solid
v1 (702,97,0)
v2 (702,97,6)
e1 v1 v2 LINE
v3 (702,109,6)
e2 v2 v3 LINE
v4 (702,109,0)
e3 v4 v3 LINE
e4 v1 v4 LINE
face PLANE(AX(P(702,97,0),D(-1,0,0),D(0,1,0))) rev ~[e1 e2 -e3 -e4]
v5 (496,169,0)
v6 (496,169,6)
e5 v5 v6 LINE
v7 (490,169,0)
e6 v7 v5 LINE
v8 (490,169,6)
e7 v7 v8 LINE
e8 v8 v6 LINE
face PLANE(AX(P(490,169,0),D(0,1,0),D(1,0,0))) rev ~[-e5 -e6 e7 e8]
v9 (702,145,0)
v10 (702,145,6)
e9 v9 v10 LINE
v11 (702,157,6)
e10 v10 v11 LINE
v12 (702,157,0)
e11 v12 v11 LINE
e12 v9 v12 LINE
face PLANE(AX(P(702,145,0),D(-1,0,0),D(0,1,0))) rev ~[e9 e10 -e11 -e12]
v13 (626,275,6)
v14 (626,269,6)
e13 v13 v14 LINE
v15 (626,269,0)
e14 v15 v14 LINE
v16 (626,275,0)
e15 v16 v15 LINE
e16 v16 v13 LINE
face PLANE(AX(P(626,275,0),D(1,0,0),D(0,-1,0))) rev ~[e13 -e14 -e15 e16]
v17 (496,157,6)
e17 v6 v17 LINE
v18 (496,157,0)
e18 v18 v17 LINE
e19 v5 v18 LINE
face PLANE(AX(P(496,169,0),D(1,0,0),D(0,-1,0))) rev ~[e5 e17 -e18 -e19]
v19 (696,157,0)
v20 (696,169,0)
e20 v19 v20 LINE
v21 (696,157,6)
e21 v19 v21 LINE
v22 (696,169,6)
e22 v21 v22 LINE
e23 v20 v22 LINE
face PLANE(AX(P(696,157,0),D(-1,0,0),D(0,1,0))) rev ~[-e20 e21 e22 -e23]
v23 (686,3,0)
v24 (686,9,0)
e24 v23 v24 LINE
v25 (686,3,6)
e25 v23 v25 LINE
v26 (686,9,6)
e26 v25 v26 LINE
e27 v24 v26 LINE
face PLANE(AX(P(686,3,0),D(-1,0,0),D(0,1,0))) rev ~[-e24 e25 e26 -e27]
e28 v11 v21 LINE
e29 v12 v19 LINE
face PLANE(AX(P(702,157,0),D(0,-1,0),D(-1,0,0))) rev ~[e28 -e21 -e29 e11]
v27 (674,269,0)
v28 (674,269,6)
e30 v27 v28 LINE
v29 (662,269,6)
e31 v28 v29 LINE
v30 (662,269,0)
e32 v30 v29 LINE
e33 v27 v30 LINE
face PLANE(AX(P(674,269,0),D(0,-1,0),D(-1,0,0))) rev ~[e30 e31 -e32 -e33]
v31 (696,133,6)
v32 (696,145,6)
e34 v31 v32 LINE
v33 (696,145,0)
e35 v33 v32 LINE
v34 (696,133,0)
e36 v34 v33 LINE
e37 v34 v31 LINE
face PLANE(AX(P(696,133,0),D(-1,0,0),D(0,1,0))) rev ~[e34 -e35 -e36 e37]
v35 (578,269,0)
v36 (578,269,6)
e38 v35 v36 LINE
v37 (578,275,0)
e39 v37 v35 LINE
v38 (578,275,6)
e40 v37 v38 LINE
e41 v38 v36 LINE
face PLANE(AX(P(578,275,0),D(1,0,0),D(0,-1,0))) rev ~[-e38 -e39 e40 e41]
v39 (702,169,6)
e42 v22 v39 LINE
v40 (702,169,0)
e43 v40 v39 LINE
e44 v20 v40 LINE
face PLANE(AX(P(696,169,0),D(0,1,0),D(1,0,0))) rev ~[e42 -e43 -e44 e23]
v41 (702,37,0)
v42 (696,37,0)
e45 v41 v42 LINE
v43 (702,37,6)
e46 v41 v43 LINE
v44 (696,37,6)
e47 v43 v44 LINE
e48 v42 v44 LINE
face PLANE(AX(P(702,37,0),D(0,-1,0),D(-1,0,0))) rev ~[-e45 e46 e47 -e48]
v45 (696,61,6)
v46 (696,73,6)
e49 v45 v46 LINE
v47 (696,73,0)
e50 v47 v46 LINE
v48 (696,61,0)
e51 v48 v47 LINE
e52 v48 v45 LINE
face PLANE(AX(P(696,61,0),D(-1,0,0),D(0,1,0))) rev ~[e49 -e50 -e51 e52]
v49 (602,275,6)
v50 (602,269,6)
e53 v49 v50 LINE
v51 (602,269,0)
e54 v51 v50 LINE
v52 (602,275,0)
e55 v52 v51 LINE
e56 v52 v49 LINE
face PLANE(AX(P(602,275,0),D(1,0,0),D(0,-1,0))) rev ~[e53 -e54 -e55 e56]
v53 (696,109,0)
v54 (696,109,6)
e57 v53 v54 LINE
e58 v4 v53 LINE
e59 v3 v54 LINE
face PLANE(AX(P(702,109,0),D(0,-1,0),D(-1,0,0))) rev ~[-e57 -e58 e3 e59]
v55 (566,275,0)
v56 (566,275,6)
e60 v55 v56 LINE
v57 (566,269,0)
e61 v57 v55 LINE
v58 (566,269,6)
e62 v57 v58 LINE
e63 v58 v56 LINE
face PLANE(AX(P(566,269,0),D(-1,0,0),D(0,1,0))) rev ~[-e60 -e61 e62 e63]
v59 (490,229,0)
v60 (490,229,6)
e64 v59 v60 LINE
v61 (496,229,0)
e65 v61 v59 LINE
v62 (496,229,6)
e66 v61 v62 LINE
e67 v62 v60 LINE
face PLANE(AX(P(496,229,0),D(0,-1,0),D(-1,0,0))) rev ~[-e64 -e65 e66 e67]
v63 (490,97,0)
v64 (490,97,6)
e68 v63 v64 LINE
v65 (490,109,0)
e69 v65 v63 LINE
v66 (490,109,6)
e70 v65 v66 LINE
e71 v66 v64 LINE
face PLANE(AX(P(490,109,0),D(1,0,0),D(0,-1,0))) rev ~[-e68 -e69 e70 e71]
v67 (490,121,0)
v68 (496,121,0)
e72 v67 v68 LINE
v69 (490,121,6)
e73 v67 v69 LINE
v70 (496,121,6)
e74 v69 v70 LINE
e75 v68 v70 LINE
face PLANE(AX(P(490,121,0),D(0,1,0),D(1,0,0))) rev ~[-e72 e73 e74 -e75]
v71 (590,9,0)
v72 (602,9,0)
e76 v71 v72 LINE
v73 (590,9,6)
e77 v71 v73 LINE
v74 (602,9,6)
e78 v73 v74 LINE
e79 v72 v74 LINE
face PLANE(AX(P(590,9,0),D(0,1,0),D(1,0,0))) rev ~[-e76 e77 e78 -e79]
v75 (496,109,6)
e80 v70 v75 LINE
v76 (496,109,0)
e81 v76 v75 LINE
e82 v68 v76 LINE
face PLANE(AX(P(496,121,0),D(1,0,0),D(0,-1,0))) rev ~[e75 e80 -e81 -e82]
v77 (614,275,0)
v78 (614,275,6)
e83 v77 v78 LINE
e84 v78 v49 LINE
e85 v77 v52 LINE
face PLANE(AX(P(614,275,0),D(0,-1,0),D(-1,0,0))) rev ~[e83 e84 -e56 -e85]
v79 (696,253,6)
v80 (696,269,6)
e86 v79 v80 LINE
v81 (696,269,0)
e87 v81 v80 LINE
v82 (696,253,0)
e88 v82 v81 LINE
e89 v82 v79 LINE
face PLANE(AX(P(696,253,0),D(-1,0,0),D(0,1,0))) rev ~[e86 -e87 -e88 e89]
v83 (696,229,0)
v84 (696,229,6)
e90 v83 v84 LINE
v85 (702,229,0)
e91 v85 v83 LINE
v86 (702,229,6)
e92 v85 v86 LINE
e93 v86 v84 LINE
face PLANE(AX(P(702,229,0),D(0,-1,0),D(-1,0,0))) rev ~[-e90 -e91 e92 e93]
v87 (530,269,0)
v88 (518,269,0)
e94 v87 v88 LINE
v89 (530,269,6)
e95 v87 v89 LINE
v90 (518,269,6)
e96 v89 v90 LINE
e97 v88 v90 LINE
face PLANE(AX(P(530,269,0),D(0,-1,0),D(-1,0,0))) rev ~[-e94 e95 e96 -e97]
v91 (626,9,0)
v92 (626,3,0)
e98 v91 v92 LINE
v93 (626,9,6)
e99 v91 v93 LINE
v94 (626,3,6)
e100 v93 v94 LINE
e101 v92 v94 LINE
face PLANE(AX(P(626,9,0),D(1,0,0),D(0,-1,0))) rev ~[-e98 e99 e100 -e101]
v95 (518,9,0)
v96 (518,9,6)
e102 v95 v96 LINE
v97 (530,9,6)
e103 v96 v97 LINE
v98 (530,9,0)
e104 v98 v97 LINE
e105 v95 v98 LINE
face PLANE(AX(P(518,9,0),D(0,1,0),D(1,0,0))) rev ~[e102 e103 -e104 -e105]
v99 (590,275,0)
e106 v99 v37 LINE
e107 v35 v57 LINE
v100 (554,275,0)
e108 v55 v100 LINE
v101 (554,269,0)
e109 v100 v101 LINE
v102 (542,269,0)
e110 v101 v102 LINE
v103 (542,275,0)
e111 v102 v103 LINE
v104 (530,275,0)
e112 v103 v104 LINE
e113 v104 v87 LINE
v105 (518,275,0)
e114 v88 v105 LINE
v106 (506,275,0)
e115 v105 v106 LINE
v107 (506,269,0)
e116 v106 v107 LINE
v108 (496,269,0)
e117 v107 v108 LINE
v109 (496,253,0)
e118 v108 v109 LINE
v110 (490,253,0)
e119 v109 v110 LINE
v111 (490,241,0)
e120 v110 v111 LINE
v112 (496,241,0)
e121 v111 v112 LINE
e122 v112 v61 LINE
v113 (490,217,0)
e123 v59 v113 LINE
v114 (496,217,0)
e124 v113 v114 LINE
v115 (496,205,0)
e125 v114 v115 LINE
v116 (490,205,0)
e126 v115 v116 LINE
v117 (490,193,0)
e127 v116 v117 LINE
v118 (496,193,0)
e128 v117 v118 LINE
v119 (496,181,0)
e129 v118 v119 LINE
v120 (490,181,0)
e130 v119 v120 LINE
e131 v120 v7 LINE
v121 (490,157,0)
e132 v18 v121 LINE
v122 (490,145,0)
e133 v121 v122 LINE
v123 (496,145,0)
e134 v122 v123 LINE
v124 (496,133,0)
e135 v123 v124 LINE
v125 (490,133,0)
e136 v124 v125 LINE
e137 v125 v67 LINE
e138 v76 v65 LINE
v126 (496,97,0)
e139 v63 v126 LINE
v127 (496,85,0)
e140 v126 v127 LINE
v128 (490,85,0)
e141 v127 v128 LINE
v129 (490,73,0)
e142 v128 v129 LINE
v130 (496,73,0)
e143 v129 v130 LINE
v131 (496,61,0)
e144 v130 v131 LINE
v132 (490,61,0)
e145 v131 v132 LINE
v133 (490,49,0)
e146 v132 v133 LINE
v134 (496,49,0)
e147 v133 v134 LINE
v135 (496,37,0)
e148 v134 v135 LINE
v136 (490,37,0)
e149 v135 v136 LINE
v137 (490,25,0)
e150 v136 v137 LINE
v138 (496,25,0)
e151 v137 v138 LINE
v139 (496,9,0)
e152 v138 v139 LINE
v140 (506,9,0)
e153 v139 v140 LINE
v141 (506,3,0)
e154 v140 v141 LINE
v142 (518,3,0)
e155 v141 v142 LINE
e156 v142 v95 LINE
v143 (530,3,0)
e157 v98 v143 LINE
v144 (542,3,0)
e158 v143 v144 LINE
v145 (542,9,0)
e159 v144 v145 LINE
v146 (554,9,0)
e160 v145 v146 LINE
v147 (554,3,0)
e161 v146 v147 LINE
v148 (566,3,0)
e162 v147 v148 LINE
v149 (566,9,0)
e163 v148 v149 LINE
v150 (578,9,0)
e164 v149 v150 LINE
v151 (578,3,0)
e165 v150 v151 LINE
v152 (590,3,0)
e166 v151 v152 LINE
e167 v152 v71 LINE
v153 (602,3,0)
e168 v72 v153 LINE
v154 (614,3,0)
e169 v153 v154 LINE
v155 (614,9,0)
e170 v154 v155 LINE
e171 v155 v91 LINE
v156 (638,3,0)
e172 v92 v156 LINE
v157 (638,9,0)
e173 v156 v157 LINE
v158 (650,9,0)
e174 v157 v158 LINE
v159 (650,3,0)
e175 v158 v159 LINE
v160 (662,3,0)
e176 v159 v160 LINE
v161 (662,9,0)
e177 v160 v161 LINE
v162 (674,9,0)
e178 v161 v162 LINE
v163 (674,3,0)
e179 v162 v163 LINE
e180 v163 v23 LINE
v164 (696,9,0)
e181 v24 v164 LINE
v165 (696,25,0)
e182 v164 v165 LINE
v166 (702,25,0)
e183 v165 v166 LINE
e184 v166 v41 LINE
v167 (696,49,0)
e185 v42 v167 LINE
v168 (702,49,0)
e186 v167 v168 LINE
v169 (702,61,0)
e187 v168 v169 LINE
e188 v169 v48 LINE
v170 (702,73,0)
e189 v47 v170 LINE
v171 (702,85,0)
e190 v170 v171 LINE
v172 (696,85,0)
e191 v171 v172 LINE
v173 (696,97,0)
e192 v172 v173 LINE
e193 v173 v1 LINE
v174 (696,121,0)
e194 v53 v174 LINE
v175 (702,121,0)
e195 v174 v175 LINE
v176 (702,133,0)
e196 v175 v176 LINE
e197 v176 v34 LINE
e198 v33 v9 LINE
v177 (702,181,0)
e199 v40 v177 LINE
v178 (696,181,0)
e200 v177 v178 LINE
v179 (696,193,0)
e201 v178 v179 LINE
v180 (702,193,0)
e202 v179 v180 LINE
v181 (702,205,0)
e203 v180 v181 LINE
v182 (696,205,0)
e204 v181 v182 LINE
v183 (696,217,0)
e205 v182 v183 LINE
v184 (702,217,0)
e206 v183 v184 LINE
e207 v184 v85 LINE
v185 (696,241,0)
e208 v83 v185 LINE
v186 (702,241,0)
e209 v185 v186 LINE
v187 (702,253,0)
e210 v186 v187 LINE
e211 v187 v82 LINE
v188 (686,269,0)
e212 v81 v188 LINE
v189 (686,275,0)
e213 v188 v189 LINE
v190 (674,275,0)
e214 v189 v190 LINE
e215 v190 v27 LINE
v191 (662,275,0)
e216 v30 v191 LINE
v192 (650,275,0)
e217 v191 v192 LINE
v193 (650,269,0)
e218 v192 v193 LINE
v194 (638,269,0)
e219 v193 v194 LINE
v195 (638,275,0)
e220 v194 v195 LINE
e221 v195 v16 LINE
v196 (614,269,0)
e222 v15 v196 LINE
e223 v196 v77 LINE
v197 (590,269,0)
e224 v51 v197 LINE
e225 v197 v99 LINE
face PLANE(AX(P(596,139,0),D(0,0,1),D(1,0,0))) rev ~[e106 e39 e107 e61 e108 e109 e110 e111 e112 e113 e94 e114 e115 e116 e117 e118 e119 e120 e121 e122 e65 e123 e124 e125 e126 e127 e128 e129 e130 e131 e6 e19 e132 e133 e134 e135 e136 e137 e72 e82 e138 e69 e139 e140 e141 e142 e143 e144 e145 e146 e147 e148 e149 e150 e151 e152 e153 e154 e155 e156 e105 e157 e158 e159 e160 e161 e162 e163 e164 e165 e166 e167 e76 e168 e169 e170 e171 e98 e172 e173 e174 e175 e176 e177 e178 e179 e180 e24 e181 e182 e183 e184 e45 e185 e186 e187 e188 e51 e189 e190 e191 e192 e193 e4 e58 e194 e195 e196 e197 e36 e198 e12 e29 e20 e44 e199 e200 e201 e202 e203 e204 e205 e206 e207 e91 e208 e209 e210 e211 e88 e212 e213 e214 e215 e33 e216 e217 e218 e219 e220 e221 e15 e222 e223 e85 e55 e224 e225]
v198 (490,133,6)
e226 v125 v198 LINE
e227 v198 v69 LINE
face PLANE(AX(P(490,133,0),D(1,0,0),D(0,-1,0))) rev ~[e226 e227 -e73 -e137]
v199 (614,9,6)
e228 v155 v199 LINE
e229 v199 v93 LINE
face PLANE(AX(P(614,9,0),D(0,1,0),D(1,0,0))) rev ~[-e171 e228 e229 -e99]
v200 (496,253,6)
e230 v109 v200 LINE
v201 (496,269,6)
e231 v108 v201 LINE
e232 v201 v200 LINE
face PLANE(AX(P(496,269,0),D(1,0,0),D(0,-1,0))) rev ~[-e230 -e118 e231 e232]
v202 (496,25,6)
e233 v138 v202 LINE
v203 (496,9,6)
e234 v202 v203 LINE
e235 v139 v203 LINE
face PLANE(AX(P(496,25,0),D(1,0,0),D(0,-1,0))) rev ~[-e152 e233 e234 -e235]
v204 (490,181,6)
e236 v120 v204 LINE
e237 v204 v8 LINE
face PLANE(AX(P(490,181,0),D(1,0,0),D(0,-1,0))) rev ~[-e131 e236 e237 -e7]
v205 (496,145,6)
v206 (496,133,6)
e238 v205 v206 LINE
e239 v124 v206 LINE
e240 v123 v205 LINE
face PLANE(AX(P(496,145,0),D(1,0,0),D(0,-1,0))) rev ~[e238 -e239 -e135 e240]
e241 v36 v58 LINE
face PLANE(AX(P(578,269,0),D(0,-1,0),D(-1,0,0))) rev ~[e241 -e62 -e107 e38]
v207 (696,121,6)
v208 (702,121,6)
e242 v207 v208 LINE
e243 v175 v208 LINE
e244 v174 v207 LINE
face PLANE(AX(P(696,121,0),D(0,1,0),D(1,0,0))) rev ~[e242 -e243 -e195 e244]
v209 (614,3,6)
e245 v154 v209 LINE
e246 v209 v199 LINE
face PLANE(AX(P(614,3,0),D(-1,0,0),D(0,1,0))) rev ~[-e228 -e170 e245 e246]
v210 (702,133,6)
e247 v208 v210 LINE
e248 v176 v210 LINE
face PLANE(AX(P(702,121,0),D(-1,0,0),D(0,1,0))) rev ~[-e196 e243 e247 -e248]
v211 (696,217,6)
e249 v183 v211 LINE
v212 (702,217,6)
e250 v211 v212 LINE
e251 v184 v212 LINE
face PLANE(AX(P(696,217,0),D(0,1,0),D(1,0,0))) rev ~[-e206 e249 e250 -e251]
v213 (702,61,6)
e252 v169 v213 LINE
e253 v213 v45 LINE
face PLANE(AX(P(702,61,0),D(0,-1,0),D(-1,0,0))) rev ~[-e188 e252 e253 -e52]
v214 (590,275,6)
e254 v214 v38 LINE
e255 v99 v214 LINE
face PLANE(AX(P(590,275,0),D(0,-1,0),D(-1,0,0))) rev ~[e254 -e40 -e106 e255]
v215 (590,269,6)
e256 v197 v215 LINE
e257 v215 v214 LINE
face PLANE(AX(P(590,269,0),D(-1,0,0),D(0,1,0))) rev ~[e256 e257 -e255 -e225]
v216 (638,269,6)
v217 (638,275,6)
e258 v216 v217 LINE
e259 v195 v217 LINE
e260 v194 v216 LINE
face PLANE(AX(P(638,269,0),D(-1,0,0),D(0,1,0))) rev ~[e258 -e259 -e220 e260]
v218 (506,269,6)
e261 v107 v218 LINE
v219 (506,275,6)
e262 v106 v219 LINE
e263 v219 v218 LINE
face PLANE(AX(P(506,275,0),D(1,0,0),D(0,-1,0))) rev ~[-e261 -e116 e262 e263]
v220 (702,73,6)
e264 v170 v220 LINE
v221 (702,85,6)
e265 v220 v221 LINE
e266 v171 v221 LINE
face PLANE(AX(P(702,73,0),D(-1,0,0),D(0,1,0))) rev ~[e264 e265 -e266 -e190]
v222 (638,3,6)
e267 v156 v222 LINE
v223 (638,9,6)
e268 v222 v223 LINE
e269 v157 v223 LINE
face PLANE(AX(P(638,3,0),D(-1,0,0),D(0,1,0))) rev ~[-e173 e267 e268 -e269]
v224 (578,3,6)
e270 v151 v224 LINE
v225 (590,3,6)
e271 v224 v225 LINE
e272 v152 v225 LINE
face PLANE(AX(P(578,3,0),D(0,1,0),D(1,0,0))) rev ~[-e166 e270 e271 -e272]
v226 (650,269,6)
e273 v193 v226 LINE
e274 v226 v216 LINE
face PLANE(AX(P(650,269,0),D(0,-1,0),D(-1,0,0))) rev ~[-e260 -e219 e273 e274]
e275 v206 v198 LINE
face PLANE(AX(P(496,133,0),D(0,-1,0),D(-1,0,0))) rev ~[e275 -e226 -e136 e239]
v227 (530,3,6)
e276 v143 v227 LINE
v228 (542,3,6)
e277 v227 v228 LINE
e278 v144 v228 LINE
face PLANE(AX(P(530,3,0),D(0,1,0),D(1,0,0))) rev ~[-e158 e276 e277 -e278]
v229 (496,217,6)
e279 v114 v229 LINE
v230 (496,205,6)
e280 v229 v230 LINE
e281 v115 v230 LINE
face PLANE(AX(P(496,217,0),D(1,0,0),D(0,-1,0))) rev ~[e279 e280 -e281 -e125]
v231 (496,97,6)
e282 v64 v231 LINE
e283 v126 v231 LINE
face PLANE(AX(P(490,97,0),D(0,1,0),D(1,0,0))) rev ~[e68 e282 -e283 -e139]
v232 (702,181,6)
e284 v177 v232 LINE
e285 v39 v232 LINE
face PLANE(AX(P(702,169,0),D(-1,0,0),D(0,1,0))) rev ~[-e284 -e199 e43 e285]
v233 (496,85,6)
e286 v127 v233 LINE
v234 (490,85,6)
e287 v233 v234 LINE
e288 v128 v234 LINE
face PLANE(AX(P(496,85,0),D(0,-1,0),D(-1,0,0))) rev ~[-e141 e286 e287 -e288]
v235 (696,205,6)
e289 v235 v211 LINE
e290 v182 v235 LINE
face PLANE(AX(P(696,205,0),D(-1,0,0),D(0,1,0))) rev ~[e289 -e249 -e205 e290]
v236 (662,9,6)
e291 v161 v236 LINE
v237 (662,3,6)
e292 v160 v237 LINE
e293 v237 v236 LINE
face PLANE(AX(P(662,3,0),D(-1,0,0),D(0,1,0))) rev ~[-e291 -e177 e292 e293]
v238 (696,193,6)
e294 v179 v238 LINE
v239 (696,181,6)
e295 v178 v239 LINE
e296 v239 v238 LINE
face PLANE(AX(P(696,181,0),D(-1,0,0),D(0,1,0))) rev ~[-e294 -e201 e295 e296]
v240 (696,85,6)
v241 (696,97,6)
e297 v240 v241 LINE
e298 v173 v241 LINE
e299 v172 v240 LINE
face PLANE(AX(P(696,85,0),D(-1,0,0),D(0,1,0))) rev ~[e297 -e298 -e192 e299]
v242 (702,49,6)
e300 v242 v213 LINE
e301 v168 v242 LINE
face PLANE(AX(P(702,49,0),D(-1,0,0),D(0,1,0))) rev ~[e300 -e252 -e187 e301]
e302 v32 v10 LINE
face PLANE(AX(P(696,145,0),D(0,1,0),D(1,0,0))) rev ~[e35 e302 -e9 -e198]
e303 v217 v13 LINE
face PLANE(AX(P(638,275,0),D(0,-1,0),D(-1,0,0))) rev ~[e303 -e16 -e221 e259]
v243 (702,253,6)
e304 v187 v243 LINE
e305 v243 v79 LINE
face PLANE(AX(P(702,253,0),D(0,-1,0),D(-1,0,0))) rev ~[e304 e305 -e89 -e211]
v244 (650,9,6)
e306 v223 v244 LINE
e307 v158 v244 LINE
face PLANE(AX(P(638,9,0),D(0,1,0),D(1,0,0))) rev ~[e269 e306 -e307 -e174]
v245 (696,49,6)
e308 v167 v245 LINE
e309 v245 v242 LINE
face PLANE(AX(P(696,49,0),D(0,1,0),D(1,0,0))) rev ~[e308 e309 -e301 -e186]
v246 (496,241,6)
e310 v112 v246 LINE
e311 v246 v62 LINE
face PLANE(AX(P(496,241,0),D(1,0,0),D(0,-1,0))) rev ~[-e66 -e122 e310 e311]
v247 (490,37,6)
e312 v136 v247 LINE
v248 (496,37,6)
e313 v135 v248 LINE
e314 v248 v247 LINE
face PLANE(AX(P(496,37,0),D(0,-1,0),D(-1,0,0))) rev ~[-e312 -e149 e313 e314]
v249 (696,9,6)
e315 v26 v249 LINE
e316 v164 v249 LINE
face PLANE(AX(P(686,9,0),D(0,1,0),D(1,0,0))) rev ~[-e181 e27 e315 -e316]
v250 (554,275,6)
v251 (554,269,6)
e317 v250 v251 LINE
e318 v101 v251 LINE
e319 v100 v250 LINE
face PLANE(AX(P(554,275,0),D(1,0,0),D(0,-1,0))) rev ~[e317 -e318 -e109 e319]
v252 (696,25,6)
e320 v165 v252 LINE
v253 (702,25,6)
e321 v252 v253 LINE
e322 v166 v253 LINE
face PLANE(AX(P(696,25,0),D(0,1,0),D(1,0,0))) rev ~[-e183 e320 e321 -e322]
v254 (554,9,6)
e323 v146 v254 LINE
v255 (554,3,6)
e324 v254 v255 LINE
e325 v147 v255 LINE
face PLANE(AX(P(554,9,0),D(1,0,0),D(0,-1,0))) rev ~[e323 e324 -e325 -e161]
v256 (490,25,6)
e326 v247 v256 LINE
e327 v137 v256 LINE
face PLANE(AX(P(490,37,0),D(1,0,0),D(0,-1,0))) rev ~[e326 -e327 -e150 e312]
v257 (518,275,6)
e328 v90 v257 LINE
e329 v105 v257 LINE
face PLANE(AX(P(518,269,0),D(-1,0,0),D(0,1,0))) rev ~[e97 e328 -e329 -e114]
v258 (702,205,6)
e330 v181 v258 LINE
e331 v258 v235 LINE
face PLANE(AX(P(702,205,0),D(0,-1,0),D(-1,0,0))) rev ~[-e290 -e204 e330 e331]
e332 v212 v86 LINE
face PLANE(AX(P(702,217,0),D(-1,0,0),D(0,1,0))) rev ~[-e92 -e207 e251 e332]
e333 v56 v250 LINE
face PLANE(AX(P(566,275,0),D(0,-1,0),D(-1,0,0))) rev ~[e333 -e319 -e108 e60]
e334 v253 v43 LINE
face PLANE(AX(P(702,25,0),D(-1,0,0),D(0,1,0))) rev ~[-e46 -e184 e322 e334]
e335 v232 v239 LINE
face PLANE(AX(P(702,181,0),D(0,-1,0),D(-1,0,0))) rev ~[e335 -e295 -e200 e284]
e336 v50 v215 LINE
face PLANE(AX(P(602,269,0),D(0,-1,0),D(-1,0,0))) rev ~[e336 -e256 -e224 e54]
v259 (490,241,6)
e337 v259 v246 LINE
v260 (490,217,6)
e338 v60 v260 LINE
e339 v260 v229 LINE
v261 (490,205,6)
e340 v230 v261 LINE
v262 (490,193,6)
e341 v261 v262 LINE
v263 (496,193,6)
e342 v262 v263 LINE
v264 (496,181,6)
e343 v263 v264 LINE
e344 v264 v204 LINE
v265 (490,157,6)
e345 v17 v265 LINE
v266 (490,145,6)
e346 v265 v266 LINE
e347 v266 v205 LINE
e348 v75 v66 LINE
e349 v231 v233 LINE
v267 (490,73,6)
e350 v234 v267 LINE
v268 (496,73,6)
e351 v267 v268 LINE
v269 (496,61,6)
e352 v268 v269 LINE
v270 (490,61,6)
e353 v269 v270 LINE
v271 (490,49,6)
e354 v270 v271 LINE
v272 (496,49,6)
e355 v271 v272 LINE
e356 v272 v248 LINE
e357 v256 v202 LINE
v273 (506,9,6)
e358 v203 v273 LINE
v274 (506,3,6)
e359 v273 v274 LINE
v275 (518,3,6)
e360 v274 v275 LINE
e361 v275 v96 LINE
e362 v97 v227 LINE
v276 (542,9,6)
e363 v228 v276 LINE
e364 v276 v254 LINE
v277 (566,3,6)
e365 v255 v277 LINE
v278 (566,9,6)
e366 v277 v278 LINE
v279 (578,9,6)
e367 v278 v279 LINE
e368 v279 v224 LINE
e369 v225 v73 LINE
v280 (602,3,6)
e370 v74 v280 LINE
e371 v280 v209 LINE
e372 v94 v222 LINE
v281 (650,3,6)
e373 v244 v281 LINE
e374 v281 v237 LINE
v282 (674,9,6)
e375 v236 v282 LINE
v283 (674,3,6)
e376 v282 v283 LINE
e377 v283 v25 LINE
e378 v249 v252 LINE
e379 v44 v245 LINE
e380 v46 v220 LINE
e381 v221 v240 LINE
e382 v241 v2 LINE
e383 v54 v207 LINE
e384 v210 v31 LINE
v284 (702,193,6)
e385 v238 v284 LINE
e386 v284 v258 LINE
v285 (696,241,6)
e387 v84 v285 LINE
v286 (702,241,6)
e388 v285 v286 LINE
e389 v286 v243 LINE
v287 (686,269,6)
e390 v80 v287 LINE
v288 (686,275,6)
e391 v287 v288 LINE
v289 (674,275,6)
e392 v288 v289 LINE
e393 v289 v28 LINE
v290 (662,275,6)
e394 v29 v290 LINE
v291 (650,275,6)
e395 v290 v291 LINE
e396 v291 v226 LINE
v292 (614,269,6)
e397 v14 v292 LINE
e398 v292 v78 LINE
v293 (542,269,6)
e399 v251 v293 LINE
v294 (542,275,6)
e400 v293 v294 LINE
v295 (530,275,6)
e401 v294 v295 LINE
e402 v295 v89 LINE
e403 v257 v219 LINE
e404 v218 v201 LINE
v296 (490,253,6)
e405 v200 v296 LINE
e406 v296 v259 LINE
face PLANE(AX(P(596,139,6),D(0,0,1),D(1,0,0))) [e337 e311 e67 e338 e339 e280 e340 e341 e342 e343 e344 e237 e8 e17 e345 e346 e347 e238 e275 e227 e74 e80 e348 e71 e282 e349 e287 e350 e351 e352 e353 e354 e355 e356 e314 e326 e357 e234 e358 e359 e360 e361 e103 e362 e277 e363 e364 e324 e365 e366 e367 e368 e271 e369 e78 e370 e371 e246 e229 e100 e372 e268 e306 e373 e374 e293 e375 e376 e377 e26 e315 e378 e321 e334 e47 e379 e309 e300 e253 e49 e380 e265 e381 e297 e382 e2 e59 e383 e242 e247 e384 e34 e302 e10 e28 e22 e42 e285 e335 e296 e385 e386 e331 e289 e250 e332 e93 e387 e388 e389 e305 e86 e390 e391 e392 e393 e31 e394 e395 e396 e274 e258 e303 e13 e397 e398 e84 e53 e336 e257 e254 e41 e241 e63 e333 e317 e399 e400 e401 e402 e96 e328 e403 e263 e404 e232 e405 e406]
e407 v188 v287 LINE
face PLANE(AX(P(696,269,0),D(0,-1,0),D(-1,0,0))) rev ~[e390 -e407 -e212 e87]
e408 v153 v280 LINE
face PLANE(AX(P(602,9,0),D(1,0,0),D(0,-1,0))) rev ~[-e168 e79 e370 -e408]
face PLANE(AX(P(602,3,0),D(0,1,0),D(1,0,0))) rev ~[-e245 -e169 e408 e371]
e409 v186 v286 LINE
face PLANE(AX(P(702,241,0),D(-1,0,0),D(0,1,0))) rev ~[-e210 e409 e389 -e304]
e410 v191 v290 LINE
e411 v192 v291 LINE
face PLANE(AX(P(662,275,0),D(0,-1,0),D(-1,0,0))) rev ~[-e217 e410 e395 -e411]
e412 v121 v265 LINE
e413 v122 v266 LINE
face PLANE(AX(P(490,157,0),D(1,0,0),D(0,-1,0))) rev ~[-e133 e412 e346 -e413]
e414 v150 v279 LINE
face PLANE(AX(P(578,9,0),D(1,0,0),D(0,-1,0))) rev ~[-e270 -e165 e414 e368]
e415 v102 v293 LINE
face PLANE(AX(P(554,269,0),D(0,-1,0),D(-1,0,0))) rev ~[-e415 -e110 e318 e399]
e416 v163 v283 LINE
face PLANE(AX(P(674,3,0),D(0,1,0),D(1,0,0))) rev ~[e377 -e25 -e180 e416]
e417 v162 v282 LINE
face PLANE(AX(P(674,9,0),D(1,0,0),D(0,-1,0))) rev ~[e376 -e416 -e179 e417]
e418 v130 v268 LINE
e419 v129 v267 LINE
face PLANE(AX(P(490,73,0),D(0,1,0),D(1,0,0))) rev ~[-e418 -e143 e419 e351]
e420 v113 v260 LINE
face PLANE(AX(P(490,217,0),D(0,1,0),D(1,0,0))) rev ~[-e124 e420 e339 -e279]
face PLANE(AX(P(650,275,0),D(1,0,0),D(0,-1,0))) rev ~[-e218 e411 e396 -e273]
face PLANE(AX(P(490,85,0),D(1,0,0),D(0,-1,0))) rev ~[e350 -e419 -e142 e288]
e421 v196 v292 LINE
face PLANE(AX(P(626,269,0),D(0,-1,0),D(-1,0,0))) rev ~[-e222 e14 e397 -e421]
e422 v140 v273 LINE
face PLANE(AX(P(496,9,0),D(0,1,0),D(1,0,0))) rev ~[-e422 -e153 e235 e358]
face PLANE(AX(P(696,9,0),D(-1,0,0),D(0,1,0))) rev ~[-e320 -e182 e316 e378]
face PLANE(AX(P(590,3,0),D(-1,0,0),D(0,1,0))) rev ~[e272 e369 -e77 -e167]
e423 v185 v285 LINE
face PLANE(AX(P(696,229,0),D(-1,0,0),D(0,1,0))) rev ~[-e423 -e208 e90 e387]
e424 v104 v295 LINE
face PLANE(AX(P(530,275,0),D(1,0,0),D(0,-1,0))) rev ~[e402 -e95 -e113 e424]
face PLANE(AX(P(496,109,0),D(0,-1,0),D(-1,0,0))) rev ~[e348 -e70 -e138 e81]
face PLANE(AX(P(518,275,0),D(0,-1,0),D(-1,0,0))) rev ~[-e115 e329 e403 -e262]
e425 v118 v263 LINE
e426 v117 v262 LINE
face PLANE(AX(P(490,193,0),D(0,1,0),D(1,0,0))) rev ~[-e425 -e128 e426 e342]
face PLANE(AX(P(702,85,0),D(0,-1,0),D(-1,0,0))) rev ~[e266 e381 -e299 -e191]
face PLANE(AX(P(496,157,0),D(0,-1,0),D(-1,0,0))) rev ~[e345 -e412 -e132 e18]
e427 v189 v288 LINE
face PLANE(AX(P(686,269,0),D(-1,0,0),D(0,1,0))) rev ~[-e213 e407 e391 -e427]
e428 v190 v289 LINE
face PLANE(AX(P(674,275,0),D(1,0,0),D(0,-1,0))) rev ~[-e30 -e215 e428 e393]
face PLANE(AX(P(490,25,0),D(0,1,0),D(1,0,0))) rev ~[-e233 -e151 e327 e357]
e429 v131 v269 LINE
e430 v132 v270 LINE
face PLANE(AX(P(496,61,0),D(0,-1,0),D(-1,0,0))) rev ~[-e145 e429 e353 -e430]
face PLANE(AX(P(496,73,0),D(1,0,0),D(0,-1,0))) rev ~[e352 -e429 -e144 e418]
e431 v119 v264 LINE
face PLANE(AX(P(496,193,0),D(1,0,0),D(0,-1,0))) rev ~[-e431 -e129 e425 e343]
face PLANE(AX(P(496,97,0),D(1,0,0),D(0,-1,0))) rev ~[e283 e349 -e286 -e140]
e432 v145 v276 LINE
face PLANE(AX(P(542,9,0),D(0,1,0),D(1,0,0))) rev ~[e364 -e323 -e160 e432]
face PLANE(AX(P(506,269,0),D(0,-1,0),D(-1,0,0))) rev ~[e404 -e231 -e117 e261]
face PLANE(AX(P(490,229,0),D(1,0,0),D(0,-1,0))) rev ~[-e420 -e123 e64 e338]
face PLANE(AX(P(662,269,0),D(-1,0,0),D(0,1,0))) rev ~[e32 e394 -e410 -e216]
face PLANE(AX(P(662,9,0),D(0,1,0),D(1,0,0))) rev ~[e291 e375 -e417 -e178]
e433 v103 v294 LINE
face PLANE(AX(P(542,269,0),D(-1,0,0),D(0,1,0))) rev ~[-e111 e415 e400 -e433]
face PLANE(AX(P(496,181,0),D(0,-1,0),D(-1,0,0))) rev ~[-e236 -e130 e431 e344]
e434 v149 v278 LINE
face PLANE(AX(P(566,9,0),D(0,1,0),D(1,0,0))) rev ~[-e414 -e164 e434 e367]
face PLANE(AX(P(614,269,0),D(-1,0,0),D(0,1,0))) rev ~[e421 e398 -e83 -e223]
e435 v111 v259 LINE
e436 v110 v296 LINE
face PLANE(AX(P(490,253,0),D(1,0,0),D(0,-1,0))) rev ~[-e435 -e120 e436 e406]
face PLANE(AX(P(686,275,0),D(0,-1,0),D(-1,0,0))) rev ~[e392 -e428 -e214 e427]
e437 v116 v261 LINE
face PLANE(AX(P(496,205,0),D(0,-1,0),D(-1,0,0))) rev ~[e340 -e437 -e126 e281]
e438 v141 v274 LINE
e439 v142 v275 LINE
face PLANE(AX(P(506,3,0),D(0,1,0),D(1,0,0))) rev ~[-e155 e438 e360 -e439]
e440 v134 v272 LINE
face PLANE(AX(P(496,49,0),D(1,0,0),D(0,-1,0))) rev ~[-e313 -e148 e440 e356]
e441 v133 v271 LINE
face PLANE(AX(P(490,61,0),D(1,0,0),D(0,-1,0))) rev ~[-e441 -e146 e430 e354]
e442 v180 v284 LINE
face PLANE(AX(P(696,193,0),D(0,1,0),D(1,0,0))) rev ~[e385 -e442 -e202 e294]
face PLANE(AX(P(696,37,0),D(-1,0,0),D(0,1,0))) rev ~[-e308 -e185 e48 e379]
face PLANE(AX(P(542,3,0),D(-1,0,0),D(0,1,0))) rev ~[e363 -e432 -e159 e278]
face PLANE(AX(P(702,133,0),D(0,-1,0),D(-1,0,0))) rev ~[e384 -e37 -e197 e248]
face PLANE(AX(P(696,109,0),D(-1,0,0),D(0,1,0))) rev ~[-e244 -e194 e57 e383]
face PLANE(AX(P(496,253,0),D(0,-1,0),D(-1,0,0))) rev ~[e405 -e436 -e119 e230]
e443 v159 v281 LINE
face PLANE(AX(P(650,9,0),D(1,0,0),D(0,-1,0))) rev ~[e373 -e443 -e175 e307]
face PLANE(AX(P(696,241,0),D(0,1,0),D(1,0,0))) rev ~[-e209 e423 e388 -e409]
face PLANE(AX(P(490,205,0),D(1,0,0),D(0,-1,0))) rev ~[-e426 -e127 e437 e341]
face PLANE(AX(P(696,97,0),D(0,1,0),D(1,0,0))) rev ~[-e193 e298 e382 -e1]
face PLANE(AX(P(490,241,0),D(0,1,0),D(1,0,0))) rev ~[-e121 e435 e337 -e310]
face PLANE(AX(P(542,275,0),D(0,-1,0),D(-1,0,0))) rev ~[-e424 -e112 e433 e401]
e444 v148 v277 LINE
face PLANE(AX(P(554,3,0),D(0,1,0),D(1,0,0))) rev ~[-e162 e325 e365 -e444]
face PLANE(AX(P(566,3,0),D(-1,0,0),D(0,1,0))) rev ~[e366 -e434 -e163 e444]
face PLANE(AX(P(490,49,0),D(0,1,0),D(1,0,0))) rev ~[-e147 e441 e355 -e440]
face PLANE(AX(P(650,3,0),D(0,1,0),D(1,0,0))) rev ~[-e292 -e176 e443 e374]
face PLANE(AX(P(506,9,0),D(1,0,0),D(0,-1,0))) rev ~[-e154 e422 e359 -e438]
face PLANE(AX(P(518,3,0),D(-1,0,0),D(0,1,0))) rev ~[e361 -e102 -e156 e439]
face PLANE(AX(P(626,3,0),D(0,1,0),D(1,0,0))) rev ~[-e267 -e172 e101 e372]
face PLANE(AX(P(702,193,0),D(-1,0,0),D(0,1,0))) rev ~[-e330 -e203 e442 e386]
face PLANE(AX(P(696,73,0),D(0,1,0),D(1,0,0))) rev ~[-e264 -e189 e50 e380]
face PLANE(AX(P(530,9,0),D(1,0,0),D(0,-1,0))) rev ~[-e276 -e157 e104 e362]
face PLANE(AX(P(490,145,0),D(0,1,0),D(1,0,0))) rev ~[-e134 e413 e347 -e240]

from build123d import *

# Parameters (mm, degrees)
BOSS_EXTRUDE1_DEPTH = 6


with BuildPart() as part:
    # Model → Boss-Extrude1 (new body)
    with BuildSketch(Plane.XY):
        Polygon((496, 269), (496, 253), (490, 253), (490, 241), (496, 241), (496, 229), (490, 229), (490, 217), (496, 217), (496, 205), (490, 205), (490, 193), (496, 193), (496, 181), (490, 181), (490, 169), (496, 169), (496, 157), (490, 157), (490, 145), (496, 145), (496, 133), (490, 133), (490, 121), (496, 121), (496, 109), (490, 109), (490, 97), (496, 97), (496, 85), (490, 85), (490, 73), (496, 73), (496, 61), (490, 61), (490, 49), (496, 49), (496, 37), (490, 37), (490, 25), (496, 25), (496, 13), (496, 9), (506, 9), (506, 3), (518, 3), (518, 9), (530, 9), (530, 3), (542, 3), (542, 9), (554, 9), (554, 3), (566, 3), (566, 9), (578, 9), (578, 3), (590, 3), (590, 9), (602, 9), (602, 3), (614, 3), (614, 9), (626, 9), (626, 3), (638, 3), (638, 9), (650, 9), (650, 3), (662, 3), (662, 9), (674, 9), (674, 3), (686, 3), (686, 9), (696, 9), (696, 25), (702, 25), (702, 37), (696, 37), (696, 49), (702, 49), (702, 61), (696, 61), (696, 73), (702, 73), (702, 85), (696, 85), (696, 97), (702, 97), (702, 109), (696, 109), (696, 121), (702, 121), (702, 133), (696, 133), (696, 145), (702, 145), (702, 157), (696, 157), (696, 169), (702, 169), (702, 181), (696, 181), (696, 193), (702, 193), (702, 205), (696, 205), (696, 217), (702, 217), (702, 229), (696, 229), (696, 241), (702, 241), (702, 253), (696, 253), (696, 265), (696, 269), (686, 269), (686, 275), (674, 275), (674, 269), (662, 269), (662, 275), (650, 275), (650, 269), (638, 269), (638, 275), (626, 275), (626, 269), (614, 269), (614, 275), (602, 275), (602, 269), (590, 269), (590, 275), (578, 275), (578, 269), (566, 269), (566, 275), (554, 275), (554, 269), (542, 269), (542, 275), (530, 275), (530, 269), (518, 269), (518, 275), (506, 275), (506, 269), align=None)
    extrude(amount=BOSS_EXTRUDE1_DEPTH)


solid = part.part
